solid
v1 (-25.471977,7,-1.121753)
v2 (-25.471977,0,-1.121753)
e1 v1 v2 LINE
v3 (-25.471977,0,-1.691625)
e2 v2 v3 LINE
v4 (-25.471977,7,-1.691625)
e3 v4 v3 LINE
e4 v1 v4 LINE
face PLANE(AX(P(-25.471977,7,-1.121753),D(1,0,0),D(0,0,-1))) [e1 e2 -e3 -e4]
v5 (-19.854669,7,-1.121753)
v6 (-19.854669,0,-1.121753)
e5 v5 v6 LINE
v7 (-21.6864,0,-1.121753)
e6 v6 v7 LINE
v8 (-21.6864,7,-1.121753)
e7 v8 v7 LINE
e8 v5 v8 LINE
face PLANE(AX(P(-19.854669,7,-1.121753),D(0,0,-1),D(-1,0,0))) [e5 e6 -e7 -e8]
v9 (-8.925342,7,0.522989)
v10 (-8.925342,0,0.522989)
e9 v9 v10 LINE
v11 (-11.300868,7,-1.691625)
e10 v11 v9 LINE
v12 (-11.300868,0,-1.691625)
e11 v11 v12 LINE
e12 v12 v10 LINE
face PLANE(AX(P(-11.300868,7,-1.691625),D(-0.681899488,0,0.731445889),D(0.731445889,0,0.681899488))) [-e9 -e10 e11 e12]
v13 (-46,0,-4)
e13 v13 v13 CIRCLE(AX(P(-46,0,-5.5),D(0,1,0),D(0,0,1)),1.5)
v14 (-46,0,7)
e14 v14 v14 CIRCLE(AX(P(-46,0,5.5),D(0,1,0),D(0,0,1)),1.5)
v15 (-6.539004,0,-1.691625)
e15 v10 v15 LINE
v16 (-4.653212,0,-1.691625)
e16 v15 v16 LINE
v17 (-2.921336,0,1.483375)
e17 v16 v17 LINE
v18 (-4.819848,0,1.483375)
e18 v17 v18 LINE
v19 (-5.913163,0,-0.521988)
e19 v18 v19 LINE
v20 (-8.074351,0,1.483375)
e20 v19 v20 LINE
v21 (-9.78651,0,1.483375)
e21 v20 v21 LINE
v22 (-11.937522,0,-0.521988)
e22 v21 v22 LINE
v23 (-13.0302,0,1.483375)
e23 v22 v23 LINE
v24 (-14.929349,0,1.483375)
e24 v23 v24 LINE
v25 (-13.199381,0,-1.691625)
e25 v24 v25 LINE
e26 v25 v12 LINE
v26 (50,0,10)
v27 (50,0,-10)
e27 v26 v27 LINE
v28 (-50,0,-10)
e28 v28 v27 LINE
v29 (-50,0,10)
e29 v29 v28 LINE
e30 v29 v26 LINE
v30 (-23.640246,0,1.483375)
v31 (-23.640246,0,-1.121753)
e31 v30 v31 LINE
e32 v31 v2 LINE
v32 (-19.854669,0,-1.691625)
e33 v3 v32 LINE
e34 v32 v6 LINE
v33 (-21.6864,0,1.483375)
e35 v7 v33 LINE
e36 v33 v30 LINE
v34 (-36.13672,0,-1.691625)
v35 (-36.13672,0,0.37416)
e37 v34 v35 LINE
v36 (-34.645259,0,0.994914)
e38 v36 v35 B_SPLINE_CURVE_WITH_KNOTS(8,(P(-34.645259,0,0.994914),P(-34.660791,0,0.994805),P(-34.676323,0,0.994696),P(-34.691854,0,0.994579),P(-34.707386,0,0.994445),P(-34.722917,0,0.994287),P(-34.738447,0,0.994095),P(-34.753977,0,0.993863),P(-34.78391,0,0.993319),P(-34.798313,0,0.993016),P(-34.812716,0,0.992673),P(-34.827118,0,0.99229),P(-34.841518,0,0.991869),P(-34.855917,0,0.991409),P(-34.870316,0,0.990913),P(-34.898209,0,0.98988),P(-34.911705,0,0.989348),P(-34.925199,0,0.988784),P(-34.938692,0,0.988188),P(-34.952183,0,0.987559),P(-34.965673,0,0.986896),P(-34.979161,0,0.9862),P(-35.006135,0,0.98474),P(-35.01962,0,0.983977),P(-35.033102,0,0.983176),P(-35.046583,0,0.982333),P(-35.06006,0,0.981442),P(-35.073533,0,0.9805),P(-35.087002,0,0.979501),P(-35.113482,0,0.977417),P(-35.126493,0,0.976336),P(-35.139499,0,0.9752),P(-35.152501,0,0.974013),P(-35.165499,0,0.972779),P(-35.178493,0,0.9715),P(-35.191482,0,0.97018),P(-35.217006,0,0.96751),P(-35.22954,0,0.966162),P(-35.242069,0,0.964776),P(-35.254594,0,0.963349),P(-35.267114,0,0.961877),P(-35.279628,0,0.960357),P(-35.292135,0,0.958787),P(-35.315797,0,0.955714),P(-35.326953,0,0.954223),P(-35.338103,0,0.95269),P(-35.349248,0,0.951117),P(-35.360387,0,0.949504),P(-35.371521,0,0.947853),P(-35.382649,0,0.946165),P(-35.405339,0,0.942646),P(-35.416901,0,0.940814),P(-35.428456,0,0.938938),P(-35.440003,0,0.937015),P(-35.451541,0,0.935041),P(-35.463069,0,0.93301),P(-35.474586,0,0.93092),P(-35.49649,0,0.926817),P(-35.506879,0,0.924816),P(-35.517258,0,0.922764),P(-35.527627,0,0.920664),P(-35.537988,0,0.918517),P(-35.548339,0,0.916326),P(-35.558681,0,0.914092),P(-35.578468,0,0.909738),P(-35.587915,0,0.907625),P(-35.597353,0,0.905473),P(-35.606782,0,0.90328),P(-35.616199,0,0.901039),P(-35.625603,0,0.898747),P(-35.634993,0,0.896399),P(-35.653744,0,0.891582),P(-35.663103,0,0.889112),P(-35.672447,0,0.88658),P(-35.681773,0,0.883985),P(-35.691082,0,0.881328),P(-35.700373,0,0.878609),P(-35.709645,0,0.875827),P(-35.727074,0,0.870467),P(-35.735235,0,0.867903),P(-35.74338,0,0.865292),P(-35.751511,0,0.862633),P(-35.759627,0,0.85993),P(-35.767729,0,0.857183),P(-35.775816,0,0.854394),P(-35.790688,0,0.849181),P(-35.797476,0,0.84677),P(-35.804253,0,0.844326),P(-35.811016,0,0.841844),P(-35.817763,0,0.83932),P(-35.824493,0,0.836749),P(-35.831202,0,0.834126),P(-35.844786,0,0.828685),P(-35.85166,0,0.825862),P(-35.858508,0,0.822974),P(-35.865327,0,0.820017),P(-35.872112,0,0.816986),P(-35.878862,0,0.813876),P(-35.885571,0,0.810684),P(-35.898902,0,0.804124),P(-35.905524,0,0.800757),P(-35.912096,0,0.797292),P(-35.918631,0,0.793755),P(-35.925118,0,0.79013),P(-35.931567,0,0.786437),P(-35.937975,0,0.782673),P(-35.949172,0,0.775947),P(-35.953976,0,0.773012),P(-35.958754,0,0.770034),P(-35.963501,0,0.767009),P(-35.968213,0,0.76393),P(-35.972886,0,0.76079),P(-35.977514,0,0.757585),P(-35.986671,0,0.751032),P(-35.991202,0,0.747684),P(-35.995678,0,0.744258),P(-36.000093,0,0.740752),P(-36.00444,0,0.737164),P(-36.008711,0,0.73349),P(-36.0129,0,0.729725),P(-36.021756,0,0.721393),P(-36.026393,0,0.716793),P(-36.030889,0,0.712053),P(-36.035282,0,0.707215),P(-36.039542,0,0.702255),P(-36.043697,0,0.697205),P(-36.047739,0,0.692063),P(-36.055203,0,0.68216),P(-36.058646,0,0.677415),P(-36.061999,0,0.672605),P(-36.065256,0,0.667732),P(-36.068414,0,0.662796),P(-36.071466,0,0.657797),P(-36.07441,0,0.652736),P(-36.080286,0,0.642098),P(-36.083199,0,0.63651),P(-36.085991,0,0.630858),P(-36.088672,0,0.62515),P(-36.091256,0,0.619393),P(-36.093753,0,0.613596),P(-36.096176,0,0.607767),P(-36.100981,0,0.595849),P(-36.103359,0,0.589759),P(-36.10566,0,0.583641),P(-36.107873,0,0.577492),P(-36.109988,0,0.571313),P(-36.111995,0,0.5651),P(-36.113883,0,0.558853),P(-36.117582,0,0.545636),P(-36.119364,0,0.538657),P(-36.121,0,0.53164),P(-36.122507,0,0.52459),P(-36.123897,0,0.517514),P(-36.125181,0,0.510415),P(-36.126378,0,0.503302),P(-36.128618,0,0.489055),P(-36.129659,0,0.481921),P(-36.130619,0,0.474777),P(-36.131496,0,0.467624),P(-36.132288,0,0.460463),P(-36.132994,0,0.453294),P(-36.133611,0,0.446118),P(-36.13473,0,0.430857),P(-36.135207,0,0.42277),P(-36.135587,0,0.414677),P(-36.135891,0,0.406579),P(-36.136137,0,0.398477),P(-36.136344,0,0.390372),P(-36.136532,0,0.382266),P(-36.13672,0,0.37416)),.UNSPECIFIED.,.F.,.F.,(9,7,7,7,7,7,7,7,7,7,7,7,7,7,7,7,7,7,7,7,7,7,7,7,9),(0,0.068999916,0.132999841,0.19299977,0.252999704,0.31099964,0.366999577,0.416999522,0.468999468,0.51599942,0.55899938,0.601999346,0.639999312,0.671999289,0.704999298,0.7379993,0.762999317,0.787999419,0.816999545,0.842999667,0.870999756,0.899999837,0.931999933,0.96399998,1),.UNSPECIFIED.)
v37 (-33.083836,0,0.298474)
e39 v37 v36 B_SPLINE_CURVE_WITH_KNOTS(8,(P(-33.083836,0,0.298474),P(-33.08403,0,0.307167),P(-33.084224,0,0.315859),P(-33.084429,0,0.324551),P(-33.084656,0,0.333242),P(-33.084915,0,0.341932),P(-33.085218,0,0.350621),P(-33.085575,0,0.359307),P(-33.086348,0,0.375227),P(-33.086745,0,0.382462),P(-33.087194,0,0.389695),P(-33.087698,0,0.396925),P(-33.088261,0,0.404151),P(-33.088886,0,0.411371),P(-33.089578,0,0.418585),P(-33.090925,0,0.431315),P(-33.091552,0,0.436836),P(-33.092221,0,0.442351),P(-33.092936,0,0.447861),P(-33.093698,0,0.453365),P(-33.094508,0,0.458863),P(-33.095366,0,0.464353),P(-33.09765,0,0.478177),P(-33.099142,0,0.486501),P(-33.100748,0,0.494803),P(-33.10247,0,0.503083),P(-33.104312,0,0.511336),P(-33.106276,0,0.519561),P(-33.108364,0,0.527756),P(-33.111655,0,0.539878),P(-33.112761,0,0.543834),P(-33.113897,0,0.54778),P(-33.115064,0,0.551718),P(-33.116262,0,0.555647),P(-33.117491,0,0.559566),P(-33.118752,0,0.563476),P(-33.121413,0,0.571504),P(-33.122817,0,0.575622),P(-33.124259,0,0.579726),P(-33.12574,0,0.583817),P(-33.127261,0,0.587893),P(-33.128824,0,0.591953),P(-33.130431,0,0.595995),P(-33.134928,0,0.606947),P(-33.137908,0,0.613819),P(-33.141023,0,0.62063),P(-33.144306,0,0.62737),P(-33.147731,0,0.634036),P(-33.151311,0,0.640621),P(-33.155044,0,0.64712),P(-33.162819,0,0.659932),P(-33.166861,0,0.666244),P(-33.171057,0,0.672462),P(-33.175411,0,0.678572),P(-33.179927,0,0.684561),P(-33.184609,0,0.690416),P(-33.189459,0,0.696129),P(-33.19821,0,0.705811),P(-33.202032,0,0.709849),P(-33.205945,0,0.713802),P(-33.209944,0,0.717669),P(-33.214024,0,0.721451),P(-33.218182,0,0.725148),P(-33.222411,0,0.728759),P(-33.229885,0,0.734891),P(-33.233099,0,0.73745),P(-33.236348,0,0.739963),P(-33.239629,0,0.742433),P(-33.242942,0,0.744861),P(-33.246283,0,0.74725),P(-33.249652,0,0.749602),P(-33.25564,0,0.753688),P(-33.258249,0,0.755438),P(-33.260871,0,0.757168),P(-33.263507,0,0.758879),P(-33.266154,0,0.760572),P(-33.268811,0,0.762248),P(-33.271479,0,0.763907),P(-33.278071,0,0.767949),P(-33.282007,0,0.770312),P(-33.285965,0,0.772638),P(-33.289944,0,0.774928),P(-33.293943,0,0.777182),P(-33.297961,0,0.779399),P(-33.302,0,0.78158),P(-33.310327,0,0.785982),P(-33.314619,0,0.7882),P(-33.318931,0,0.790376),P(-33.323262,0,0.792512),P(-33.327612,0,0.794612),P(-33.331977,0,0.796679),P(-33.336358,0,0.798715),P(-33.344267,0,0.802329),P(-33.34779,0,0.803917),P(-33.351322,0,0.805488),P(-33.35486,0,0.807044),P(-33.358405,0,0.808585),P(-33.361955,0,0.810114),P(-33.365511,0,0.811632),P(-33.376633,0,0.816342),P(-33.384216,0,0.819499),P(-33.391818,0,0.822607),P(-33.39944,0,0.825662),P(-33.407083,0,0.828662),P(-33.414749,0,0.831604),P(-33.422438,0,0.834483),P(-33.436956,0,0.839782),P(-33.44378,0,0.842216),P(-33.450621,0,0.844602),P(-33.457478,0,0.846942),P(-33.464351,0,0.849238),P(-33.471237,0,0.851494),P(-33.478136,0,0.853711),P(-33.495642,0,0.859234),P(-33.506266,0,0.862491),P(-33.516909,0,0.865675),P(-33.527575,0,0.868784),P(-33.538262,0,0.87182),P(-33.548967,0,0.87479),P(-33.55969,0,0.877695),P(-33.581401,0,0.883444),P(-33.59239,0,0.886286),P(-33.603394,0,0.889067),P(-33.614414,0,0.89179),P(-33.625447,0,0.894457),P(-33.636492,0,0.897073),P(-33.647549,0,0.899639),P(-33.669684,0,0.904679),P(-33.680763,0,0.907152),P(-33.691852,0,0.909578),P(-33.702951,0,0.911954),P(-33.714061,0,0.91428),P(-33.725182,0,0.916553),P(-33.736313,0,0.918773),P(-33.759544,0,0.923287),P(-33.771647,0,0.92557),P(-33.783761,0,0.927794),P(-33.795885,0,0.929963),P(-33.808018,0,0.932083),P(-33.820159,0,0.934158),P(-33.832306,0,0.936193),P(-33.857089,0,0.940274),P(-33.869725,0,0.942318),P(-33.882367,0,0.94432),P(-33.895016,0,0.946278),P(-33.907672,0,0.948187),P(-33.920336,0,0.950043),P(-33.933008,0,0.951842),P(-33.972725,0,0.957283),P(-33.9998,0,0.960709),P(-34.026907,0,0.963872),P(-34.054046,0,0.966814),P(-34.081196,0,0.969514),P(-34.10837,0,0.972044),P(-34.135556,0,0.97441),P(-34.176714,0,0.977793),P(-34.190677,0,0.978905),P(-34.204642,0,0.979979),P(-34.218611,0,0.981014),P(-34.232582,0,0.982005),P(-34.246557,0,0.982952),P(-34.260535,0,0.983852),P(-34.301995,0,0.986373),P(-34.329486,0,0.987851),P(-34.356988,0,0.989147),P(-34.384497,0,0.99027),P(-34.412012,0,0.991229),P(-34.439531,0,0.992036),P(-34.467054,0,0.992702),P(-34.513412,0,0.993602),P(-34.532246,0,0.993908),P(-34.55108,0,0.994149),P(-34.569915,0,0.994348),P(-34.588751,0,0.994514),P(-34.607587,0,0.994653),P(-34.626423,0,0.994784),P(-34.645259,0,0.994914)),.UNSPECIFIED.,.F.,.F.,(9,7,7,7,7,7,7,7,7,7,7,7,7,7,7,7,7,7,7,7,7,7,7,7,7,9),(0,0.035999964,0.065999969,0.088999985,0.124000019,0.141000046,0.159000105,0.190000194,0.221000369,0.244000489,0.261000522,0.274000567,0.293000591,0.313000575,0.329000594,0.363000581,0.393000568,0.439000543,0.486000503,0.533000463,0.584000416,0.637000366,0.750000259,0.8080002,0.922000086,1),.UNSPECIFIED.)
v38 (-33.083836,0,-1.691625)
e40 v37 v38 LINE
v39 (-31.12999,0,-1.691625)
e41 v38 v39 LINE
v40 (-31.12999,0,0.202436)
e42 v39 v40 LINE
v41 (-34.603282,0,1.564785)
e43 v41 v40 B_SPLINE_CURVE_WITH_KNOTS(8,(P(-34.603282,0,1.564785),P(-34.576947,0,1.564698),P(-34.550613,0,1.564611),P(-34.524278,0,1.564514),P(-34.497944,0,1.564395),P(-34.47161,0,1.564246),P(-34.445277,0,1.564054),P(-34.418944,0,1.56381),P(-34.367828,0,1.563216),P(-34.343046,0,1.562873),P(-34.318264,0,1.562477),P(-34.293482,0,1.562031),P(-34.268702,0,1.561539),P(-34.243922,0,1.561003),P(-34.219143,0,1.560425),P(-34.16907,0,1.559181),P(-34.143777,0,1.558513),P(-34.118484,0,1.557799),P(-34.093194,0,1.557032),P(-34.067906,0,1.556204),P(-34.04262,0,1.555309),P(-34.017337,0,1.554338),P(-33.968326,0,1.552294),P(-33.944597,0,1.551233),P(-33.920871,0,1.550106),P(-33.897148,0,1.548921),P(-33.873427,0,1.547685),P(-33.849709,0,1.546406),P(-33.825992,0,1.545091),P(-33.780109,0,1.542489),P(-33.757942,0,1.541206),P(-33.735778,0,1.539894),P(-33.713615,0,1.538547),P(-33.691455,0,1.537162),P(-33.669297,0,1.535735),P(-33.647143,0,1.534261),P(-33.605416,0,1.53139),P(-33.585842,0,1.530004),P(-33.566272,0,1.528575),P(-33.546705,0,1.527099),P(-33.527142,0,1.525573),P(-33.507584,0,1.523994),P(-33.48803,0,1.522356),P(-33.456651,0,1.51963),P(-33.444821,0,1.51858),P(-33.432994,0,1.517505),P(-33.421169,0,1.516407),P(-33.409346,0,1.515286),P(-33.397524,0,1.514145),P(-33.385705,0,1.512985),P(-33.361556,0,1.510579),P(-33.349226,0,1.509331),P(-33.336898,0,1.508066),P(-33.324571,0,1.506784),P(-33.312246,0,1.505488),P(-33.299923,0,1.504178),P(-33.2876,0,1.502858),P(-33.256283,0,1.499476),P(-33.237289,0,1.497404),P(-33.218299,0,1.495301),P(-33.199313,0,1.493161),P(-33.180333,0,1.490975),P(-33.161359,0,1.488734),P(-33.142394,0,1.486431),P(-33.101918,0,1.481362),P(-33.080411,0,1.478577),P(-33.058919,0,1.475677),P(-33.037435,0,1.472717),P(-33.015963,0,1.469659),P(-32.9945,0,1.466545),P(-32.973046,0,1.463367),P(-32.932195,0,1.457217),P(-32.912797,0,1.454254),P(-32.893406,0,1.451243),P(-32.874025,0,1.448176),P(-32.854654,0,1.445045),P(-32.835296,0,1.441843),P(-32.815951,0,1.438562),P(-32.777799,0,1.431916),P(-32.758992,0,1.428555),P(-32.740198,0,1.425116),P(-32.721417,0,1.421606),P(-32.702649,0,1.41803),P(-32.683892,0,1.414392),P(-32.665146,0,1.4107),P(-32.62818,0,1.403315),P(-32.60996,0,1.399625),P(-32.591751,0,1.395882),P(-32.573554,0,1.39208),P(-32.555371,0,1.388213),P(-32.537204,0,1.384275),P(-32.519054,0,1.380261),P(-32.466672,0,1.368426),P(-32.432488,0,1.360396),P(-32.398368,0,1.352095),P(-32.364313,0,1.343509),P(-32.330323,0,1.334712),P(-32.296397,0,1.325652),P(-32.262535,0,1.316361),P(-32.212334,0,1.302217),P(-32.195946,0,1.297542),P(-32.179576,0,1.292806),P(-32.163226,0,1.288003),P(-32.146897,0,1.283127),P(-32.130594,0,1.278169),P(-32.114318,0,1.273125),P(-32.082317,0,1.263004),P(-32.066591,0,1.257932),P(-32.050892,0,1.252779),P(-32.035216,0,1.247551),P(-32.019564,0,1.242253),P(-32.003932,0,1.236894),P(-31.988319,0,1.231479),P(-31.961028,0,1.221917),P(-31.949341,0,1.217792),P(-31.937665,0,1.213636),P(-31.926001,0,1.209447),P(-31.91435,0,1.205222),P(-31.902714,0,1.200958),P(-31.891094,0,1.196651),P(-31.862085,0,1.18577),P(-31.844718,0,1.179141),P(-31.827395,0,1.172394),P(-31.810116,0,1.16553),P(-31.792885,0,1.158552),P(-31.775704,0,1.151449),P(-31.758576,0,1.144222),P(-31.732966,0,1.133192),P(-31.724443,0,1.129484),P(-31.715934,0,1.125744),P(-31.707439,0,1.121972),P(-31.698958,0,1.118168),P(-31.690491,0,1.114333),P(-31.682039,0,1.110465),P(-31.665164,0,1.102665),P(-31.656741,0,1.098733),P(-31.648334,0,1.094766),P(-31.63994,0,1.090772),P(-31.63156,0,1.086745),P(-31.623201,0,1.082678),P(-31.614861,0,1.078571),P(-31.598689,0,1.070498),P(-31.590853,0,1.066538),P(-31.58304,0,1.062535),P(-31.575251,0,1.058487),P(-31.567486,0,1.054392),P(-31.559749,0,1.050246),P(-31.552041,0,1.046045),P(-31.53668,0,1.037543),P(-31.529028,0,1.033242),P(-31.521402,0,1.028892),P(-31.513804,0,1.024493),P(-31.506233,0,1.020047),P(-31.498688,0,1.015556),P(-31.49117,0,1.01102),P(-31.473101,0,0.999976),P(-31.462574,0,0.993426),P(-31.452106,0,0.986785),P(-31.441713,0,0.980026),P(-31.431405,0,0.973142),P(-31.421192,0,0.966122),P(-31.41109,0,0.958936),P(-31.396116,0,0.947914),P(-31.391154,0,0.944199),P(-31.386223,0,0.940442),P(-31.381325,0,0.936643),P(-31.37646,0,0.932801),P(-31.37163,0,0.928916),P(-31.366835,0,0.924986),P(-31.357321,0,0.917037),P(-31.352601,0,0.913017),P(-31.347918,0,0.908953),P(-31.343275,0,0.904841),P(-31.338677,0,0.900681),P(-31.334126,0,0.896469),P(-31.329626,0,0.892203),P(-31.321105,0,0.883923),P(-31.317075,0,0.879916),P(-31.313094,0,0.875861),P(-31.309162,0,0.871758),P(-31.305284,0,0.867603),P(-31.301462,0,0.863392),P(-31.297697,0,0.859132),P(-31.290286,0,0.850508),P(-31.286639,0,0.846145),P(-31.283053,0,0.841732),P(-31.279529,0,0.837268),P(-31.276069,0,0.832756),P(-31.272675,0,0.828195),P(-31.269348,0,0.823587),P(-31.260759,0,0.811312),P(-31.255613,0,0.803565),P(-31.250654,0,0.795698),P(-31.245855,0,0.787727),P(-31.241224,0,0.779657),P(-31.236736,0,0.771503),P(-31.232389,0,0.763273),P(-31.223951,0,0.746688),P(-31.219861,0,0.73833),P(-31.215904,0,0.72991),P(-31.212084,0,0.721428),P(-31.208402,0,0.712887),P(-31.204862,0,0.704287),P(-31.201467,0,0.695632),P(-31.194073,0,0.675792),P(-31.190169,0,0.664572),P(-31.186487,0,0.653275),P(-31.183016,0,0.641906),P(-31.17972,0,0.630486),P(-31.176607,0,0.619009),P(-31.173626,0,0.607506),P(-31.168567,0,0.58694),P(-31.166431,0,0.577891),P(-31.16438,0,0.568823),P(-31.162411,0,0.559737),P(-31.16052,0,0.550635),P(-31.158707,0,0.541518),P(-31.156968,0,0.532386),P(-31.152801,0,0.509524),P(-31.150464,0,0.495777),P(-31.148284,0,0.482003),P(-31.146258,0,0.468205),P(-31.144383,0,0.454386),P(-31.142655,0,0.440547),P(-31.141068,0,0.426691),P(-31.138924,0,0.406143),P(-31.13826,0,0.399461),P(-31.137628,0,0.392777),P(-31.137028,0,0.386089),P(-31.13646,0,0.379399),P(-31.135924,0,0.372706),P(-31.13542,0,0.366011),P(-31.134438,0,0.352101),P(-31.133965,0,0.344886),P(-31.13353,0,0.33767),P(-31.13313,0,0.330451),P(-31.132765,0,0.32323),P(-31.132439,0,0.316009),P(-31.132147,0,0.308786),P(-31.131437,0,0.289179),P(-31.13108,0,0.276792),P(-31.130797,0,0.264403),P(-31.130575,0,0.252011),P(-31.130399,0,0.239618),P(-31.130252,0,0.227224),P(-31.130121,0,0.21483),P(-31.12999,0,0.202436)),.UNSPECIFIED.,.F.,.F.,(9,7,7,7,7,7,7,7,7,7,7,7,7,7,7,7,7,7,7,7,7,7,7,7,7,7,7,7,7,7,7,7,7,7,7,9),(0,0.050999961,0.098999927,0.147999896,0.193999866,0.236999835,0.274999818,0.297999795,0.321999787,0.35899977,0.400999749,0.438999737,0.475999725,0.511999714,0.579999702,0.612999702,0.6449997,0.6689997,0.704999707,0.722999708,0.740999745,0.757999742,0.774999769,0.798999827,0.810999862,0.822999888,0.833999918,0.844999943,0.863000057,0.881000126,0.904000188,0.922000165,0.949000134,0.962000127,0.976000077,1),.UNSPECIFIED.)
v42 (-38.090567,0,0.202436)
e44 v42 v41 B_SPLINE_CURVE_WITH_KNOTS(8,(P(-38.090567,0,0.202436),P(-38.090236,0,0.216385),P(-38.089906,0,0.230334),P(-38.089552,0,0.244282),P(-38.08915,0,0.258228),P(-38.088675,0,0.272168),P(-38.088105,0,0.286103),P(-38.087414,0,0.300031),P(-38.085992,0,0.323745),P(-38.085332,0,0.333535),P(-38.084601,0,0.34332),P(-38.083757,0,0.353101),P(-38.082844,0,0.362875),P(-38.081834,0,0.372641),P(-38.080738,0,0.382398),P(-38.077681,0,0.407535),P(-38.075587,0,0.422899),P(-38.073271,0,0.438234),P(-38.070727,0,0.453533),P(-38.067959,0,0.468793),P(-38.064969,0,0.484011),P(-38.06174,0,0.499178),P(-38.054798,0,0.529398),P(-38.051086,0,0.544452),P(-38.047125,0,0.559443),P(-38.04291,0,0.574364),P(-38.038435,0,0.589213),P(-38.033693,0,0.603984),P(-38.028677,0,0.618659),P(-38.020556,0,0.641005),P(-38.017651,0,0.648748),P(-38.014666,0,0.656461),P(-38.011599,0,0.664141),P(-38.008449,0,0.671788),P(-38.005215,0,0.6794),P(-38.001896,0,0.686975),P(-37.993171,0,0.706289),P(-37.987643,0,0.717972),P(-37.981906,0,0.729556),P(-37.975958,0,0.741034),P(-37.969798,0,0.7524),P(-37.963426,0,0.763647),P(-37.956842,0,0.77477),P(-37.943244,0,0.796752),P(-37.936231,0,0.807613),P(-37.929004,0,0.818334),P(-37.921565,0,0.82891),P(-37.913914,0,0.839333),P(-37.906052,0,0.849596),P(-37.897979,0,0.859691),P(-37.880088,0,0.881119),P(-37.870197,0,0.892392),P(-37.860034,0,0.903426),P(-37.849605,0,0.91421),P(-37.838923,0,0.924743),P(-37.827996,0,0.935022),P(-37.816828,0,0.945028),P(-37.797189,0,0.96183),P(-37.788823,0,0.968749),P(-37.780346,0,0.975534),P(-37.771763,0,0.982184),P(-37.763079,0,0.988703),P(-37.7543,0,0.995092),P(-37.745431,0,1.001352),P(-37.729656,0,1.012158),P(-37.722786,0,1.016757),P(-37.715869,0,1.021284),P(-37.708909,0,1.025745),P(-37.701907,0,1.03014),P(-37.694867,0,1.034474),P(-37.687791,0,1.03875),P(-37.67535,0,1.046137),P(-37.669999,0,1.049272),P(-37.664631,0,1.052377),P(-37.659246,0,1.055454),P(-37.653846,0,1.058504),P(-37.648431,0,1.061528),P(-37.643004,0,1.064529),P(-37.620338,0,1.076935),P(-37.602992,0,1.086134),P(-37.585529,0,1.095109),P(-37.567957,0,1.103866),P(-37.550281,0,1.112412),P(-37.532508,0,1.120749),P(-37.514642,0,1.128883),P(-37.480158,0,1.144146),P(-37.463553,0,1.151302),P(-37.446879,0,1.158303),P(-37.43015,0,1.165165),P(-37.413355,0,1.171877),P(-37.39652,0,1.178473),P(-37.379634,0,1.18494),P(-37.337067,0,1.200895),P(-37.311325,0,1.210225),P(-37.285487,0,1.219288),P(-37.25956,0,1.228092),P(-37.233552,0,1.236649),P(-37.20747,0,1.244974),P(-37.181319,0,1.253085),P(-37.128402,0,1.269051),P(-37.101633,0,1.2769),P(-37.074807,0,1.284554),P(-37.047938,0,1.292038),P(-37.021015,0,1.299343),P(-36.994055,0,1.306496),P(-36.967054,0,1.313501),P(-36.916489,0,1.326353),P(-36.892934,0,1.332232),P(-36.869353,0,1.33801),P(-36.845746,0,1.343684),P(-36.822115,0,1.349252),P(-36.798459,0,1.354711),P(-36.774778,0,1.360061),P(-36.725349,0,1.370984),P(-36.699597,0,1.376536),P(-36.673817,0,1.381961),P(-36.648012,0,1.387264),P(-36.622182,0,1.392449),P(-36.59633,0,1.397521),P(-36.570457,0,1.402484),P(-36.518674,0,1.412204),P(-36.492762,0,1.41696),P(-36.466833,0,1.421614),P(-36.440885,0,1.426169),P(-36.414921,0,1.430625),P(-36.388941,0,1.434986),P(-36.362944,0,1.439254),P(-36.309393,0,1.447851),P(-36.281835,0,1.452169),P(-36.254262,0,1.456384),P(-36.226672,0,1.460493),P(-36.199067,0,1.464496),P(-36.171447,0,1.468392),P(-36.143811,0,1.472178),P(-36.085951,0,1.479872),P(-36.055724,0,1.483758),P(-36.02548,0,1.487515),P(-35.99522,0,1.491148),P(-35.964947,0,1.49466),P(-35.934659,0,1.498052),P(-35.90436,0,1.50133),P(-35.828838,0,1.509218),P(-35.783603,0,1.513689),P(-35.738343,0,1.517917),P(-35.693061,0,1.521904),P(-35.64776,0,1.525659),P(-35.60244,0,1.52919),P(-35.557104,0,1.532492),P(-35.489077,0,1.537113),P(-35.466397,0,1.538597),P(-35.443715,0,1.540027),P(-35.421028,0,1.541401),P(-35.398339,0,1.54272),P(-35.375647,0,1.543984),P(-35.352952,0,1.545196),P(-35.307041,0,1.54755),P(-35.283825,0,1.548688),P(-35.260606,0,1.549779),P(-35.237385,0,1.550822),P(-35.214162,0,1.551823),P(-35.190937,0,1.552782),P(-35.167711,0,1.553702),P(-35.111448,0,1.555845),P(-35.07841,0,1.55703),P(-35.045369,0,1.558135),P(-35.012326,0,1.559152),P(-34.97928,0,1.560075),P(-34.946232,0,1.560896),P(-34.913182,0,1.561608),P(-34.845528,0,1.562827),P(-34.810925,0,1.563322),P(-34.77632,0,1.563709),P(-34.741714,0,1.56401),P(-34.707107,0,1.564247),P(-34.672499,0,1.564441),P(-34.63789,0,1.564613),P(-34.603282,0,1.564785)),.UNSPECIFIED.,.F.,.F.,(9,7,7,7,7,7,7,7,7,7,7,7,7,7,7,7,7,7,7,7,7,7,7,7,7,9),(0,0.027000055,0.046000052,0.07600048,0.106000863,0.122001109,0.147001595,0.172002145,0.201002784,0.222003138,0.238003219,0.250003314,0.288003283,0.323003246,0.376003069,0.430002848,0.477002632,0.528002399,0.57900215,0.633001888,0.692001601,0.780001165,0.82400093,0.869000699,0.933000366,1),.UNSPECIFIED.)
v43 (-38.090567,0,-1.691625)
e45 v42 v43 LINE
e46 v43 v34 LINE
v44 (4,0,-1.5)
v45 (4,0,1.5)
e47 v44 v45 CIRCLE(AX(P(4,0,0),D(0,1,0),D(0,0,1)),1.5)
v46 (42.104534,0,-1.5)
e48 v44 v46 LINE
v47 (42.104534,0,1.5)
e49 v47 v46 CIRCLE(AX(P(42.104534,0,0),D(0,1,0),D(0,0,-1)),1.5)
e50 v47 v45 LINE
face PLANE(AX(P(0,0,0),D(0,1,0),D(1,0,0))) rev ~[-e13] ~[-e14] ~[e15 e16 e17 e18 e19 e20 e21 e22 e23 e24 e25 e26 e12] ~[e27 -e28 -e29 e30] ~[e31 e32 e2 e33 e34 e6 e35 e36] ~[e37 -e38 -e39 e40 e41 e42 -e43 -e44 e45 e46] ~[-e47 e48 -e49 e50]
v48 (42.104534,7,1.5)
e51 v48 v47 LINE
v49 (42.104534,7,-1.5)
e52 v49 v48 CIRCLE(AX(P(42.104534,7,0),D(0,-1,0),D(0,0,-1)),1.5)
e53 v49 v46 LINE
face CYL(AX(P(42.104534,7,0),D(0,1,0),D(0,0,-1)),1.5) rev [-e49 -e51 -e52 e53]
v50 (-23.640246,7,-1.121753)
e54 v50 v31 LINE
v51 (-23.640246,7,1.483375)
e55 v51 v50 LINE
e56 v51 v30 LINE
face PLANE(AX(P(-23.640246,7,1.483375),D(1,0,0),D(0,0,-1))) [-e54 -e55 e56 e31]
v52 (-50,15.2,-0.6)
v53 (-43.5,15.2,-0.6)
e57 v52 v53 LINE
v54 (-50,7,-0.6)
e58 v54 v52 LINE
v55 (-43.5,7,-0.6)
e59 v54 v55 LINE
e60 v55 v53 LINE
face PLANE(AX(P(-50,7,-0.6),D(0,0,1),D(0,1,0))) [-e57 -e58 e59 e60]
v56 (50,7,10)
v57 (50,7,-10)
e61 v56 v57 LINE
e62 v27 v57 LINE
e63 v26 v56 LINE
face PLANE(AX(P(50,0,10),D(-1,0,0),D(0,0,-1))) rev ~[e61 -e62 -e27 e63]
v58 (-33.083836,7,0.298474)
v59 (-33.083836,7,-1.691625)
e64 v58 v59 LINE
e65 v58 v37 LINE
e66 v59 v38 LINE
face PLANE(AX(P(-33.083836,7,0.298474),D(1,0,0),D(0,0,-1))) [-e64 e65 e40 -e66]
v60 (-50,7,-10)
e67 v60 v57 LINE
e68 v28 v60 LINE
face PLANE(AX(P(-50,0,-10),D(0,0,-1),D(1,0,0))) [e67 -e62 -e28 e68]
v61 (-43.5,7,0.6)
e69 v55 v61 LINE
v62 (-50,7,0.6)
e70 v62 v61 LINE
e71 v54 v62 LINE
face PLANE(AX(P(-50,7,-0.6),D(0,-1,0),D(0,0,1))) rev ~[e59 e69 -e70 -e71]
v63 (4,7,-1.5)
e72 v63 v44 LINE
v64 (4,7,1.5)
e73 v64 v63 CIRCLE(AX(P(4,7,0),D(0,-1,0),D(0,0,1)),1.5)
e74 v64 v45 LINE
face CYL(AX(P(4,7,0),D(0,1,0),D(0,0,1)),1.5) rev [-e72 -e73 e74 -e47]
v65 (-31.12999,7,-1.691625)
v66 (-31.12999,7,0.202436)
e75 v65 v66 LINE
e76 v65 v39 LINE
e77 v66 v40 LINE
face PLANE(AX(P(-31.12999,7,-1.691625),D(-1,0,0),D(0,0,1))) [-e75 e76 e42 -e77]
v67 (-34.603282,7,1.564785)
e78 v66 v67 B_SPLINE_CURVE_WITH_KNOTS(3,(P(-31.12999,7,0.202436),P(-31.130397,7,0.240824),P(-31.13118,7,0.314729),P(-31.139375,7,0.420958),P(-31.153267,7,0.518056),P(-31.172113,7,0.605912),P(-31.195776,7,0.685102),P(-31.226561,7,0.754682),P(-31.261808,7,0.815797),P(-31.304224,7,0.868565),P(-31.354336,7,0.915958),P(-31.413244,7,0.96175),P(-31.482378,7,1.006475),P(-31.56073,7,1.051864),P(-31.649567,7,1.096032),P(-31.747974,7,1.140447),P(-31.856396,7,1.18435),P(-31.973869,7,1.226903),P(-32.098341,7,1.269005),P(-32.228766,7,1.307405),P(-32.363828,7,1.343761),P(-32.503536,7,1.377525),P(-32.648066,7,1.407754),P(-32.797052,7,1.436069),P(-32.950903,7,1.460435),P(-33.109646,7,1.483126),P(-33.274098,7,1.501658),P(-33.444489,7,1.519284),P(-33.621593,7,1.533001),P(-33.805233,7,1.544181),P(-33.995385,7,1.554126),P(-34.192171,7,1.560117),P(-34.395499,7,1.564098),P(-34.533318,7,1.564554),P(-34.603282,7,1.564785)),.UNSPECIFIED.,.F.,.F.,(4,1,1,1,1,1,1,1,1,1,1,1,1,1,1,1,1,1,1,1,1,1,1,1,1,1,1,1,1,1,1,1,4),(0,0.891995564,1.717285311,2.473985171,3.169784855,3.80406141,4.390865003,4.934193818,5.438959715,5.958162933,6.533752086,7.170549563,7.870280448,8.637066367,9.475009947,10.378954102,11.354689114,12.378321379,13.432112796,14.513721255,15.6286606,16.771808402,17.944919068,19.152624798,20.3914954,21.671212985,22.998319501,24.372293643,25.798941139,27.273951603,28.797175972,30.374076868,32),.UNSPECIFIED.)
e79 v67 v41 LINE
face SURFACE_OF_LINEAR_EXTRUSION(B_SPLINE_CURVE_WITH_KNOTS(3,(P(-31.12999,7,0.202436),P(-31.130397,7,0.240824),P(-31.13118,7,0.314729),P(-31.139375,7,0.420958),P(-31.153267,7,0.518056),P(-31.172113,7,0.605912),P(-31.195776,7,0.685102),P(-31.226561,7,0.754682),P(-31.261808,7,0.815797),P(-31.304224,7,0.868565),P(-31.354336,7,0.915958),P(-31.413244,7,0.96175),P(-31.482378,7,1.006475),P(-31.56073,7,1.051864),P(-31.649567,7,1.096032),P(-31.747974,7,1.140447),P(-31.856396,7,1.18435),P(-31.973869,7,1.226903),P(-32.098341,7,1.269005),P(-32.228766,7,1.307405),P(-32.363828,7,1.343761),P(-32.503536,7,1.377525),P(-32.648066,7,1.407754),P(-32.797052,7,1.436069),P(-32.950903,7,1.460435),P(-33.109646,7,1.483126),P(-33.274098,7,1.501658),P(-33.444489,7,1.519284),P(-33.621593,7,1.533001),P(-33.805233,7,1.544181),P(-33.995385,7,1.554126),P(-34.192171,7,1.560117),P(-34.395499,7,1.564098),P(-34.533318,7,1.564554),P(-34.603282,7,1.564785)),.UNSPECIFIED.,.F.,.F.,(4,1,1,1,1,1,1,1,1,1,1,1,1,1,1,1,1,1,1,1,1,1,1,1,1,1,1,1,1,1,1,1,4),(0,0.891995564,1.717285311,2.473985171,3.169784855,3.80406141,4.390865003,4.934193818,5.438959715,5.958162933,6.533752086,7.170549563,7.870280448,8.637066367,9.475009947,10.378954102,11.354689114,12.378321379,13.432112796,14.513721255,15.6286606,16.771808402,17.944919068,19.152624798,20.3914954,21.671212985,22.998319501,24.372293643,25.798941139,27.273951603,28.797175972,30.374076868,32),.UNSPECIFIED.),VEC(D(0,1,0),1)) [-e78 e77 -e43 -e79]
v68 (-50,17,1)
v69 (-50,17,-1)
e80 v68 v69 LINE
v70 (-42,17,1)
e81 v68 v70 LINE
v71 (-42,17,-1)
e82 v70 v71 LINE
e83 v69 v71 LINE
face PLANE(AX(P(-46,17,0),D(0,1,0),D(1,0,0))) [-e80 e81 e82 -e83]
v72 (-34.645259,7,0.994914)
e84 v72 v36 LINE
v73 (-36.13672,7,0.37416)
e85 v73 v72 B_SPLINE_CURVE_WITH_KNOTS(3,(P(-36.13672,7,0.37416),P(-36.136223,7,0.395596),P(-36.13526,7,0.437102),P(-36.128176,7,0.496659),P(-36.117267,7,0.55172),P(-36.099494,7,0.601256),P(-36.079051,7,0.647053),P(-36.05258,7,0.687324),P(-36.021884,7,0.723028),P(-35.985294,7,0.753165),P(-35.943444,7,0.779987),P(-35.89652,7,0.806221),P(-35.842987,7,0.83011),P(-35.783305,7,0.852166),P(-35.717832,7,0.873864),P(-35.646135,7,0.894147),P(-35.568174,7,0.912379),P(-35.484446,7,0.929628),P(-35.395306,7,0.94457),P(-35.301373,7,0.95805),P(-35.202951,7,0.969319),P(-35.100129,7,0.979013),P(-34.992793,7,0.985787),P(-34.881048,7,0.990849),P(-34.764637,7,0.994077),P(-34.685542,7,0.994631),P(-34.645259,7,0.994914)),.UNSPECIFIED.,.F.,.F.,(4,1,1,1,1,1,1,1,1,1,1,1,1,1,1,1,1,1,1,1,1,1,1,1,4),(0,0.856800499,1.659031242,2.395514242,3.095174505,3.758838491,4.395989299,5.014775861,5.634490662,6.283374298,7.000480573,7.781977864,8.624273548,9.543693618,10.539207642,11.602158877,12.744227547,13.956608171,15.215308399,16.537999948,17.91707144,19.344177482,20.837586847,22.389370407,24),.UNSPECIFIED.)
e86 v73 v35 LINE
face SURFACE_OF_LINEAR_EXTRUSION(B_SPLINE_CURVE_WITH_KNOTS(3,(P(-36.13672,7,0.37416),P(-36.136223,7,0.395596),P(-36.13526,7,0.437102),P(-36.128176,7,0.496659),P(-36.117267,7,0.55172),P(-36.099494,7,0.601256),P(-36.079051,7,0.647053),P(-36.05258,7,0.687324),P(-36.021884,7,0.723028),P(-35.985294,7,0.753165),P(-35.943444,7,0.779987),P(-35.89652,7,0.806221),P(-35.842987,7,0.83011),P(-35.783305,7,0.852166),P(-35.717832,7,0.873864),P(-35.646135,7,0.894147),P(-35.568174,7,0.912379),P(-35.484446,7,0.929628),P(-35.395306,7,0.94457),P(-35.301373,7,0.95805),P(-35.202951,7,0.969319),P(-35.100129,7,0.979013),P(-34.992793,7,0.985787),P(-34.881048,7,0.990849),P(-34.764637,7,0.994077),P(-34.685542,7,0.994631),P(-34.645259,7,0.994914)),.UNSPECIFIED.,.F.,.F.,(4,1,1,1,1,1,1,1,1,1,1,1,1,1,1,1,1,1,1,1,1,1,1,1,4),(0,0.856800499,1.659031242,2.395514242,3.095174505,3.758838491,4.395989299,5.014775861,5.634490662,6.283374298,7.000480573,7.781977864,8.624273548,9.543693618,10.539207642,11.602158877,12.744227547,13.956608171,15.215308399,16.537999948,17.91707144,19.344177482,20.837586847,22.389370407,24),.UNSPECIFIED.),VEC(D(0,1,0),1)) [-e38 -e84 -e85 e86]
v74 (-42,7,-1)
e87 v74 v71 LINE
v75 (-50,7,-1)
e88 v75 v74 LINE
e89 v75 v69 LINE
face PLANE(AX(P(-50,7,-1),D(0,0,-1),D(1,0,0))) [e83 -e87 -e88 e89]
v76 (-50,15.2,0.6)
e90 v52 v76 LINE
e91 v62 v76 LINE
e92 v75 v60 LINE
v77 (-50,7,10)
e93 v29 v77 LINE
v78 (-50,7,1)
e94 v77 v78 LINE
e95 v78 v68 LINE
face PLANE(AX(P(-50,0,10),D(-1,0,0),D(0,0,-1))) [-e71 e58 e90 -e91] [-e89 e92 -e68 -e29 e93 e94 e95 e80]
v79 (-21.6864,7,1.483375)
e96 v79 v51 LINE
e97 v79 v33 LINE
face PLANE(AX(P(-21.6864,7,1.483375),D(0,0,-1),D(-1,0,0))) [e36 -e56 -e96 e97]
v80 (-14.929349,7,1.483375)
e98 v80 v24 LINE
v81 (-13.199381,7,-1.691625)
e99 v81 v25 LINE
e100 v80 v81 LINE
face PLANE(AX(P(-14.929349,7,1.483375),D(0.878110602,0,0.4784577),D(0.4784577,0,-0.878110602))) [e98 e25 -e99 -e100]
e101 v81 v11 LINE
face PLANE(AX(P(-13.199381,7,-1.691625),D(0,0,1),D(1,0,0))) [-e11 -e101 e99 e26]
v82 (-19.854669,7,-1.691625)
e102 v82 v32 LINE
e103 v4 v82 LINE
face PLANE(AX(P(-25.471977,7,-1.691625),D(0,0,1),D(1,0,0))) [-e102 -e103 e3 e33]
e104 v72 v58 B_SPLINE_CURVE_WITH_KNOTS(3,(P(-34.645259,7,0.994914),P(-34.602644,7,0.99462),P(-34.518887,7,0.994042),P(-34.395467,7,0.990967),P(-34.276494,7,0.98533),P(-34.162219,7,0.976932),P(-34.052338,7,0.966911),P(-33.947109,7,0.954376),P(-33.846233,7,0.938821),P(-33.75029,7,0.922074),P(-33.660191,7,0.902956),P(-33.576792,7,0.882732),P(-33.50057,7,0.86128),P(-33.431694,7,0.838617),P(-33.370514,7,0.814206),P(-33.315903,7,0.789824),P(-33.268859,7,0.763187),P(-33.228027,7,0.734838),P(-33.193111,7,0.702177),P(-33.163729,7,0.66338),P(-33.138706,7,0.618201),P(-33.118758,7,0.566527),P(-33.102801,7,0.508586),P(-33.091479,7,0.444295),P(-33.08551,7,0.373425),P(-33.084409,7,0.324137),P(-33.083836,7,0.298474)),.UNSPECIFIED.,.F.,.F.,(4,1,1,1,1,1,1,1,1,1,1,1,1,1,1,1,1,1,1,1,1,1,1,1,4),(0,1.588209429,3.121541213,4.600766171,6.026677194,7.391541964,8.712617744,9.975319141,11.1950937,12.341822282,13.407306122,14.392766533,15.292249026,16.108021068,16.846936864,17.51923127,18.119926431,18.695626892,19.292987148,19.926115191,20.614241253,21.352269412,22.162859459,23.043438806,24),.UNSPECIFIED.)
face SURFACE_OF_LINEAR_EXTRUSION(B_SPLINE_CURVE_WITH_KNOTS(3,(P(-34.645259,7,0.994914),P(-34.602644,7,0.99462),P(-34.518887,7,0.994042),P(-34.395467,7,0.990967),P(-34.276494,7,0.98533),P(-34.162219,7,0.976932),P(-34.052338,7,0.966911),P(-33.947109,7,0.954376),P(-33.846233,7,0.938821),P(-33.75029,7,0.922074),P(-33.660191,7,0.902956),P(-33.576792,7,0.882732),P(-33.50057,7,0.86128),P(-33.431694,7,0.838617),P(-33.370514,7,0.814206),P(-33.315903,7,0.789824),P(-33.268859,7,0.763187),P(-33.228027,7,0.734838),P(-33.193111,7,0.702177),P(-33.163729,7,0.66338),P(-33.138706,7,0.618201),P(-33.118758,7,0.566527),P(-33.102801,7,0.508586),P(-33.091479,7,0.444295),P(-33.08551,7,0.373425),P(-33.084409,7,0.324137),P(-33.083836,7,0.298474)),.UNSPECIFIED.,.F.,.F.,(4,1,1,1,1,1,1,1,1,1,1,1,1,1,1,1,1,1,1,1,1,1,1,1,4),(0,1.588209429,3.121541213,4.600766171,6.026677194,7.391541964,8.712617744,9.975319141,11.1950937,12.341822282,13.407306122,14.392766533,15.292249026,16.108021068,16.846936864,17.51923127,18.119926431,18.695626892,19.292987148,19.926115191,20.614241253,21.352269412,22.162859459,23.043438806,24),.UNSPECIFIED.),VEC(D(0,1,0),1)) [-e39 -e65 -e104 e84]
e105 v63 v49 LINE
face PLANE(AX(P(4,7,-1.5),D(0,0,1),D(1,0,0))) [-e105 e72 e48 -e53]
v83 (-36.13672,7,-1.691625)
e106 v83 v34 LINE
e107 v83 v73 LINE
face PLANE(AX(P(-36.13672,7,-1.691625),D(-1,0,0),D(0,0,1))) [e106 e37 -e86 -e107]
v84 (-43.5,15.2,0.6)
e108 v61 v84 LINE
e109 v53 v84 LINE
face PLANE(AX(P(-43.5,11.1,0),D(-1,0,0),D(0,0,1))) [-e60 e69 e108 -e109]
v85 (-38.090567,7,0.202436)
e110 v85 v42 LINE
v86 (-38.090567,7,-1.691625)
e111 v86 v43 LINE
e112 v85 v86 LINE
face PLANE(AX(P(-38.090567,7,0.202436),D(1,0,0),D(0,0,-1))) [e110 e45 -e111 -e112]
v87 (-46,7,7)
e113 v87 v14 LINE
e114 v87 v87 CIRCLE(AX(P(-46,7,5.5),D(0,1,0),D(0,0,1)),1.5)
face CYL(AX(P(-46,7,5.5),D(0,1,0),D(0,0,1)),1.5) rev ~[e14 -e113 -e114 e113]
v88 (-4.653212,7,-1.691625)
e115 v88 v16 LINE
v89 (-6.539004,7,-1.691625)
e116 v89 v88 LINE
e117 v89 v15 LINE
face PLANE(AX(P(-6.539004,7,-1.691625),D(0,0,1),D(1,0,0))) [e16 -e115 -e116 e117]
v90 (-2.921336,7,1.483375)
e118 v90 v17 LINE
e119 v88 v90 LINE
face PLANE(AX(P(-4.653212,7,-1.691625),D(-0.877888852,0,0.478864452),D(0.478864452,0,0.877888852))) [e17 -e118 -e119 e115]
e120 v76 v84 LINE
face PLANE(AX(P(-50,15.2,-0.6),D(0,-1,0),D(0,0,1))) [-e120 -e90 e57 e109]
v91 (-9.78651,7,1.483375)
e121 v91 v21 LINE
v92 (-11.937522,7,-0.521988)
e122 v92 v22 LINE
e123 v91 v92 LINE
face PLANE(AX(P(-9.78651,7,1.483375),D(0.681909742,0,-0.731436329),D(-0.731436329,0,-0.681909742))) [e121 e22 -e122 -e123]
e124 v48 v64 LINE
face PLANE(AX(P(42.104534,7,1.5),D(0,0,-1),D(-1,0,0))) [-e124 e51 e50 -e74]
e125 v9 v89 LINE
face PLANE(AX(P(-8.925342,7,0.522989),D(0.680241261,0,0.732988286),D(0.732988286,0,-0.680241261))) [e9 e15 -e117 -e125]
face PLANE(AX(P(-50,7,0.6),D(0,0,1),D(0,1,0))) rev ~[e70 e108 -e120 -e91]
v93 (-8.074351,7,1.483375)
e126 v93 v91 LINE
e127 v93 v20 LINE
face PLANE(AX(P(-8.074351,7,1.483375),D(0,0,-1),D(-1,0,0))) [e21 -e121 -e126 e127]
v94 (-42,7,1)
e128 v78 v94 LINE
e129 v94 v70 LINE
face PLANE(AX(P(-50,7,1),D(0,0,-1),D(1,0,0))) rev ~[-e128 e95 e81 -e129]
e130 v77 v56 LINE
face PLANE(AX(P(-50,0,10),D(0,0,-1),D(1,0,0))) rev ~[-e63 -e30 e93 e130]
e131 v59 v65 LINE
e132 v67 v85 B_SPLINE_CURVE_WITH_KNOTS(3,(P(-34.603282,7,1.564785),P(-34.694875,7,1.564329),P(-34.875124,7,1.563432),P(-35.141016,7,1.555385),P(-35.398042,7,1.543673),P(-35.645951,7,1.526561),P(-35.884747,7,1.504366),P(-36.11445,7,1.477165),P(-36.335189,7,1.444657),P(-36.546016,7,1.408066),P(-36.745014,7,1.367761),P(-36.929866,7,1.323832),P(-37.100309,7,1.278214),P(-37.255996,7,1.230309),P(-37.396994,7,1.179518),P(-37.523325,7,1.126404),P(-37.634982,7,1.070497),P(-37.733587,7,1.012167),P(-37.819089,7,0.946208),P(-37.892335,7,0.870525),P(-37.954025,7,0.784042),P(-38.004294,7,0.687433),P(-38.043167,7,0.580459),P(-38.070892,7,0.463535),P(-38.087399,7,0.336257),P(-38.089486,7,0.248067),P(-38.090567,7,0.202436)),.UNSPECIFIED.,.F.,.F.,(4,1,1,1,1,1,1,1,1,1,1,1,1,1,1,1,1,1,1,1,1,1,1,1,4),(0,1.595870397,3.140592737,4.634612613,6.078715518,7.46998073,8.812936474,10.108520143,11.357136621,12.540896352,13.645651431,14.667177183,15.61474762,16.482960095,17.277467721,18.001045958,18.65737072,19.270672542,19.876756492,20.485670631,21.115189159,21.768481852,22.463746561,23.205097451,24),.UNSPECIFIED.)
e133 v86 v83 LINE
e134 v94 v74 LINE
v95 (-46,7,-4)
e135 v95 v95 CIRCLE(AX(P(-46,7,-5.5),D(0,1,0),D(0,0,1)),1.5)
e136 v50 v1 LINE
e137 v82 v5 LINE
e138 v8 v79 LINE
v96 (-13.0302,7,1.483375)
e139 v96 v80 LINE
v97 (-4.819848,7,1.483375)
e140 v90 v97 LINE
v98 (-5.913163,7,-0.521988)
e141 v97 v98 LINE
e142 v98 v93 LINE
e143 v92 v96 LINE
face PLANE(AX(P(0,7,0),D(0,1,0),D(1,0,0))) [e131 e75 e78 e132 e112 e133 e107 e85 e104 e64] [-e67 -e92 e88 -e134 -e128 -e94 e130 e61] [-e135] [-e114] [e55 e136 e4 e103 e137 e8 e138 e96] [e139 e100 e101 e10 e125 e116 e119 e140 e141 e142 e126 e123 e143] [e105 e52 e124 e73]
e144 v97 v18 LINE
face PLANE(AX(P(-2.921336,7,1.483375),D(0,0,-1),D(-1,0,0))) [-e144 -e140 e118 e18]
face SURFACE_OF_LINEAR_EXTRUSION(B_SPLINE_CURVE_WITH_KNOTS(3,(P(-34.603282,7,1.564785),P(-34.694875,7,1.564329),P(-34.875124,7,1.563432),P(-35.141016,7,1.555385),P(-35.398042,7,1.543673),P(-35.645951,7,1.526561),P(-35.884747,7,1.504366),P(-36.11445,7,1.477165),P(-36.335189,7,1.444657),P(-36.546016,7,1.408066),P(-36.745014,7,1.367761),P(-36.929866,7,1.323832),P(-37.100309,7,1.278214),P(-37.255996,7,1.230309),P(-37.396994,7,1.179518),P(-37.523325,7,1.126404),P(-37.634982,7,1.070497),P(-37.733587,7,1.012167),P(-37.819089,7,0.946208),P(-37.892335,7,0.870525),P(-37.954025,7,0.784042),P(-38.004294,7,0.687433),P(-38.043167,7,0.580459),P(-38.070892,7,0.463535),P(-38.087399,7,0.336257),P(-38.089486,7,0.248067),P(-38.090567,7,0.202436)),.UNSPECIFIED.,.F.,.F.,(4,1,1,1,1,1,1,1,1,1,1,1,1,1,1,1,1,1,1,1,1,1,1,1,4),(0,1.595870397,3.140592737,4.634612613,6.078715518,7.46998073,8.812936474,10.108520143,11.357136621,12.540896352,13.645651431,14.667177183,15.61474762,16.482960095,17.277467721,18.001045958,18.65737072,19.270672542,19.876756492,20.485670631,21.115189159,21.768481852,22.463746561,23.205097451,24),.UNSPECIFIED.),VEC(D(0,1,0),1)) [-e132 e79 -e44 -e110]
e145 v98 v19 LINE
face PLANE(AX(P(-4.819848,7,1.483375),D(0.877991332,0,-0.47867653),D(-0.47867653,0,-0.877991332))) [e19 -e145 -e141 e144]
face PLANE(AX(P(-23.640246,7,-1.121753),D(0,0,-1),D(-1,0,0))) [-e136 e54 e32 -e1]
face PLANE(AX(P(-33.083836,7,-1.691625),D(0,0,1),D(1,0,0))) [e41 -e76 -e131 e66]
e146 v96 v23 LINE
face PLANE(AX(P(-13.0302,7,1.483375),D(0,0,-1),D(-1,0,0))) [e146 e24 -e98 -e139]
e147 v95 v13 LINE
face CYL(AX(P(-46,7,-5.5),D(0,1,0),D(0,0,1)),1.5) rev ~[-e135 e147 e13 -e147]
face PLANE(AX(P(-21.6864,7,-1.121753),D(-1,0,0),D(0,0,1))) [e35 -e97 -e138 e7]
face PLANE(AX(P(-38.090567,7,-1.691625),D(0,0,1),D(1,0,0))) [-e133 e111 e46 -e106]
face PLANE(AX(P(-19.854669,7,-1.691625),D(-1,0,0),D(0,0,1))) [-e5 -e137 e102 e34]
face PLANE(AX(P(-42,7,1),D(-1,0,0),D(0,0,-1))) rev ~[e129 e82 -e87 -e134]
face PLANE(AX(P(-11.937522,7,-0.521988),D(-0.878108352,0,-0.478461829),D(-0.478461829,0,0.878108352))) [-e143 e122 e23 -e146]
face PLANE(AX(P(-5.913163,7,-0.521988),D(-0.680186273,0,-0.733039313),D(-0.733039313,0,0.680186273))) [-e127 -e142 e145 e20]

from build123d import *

# Parameters (mm, degrees)
SKETCH1_W           = 100
SKETCH1_H           = 20
BOSS_EXTRUDE1_DEPTH = 7
SKETCH2_W           = 8
SKETCH2_H           = 2
BOSS_EXTRUDE2_DEPTH = 10
SKETCH3_W           = 1.2
SKETCH3_H           = 8.2
CUT_EXTRUDE1_DEPTH  = 6.5
SKETCH4_R           = 1.5
CUT_EXTRUDE2_DEPTH  = 16.5
CUT_EXTRUDE3_DEPTH  = 16.5
CUT_EXTRUDE4_DEPTH  = 16.5


with BuildPart() as part:
    # Sketch1 → Boss-Extrude1 (new body)
    with BuildSketch(Plane(origin=(0, 0, 0), x_dir=(1, 0, 0), z_dir=(0, 1, 0))):
        Rectangle(SKETCH1_W, SKETCH1_H)
    extrude(amount=BOSS_EXTRUDE1_DEPTH)

    # Sketch2 → Boss-Extrude2 (add)
    with BuildSketch(Plane(origin=(0, 7, 0), x_dir=(1, 0, 0), z_dir=(0, 1, 0))):
        with Locations((-46, 0)):
            Rectangle(SKETCH2_W, SKETCH2_H)
    extrude(amount=BOSS_EXTRUDE2_DEPTH)

    # Sketch3 → Cut-Extrude1 (cut)
    with BuildSketch(Plane.ZY.offset(50)):
        with Locations((0, 11.1)):
            Rectangle(SKETCH3_W, SKETCH3_H)
    extrude(amount=-CUT_EXTRUDE1_DEPTH, mode=Mode.SUBTRACT)

    # Sketch4 → Cut-Extrude2 (cut)
    with BuildSketch(Plane(origin=(0, 7, 0), x_dir=(1, 0, 0), z_dir=(0, 1, 0))):
        with Locations(Location((-46, -5.5, 0), (0, 0, 270))):
            Circle(SKETCH4_R)
        with Locations(Location((-46, 5.5, 0), (0, 0, 270))):
            Circle(SKETCH4_R)
    extrude(amount=-CUT_EXTRUDE2_DEPTH, mode=Mode.SUBTRACT)

    # Sketch5 → Cut-Extrude3 (cut)
    with BuildSketch(Plane(origin=(0, 7, 0), x_dir=(1, 0, 0), z_dir=(0, 1, 0))):
        with BuildLine():
            Line((4, 1.5), (42.104534382, 1.5))
            ThreePointArc((42.104534382, 1.5), (43.604534382, 0), (42.104534382, -1.5))
            Line((42.104534382, -1.5), (4, -1.5))
            ThreePointArc((4, -1.5), (2.5, 0), (4, 1.5))
        make_face()
    extrude(amount=-CUT_EXTRUDE3_DEPTH, mode=Mode.SUBTRACT)

    # Sketch6 → Cut-Extrude4 (cut)
    with BuildSketch(Plane(origin=(0, 7, 0), x_dir=(1, 0, 0), z_dir=(0, 1, 0))):
        with BuildLine():
            Line((-38.090566617, 1.691624874), (-36.136720463, 1.691624874))
            Line((-36.136720463, 1.691624874), (-36.136720463, -0.374160382))
            add(Edge.make_bspline(
                [(-36.136720463, -0.374160382), (-36.136222921, -0.395596016), (-36.135259527, -0.437102045), (-36.128176252, -0.496659376), (-36.117267464, -0.551720243), (-36.099494327, -0.601255913), (-36.079050673, -0.647053262), (-36.052579871, -0.687323798), (-36.021884122, -0.723028206), (-35.985294073, -0.753165432), (-35.943444242, -0.779987134), (-35.896520116, -0.806221032), (-35.842987125, -0.830109847), (-35.783305155, -0.852165702), (-35.717831736, -0.873864468), (-35.646135273, -0.894146598), (-35.56817414, -0.912378535), (-35.484446285, -0.929627894), (-35.395305953, -0.944570047), (-35.30137293, -0.958050388), (-35.202951382, -0.969319491), (-35.100128875, -0.979013349), (-34.99279273, -0.985787257), (-34.881047838, -0.990848531), (-34.764636845, -0.99407686), (-34.685542294, -0.99463124), (-34.645259125, -0.994913587)],
                knots=[0, 0, 0, 0, 0.856800499, 1.659031242, 2.395514242, 3.095174505, 3.758838491, 4.395989299, 5.014775861, 5.634490662, 6.283374298, 7.000480573, 7.781977864, 8.624273548, 9.543693618, 10.539207642, 11.602158877, 12.744227547, 13.956608171, 15.215308399, 16.537999948, 17.91707144, 19.344177482, 20.837586847, 22.389370407, 24, 24, 24, 24], degree=3))
            add(Edge.make_bspline(
                [(-34.645259125, -0.994913587), (-34.602644304, -0.994619773), (-34.518887139, -0.994042296), (-34.395467432, -0.990967311), (-34.276493626, -0.985329628), (-34.162218877, -0.976931814), (-34.05233768, -0.966910998), (-33.947109184, -0.954375876), (-33.846232554, -0.938820672), (-33.750290053, -0.922073681), (-33.660190511, -0.902955674), (-33.576791977, -0.882732471), (-33.500569827, -0.861280306), (-33.431693571, -0.838617434), (-33.370513532, -0.814205685), (-33.315903174, -0.789823701), (-33.268859004, -0.763186911), (-33.228027111, -0.734837962), (-33.193111029, -0.702177186), (-33.163728858, -0.66337951), (-33.138706328, -0.618201192), (-33.118757714, -0.566526559), (-33.102800885, -0.508586363), (-33.091478933, -0.444294518), (-33.085510067, -0.373424974), (-33.084409099, -0.324137339), (-33.083835848, -0.298474285)],
                knots=[0, 0, 0, 0, 1.588209429, 3.121541213, 4.600766171, 6.026677194, 7.391541964, 8.712617744, 9.975319141, 11.1950937, 12.341822282, 13.407306122, 14.392766533, 15.292249026, 16.108021068, 16.846936864, 17.51923127, 18.119926431, 18.695626892, 19.292987148, 19.926115191, 20.614241253, 21.352269412, 22.162859459, 23.043438806, 24, 24, 24, 24], degree=3))
            Line((-33.083835848, -0.298474285), (-33.083835848, 1.691624874))
            Line((-33.083835848, 1.691624874), (-31.129989694, 1.691624874))
            Line((-31.129989694, 1.691624874), (-31.129989694, -0.202435623))
            add(Edge.make_bspline(
                [(-31.129989694, -0.202435623), (-31.130396555, -0.240823825), (-31.131179852, -0.314729458), (-31.139375273, -0.420958153), (-31.153266871, -0.518056089), (-31.172113358, -0.60591195), (-31.195776106, -0.685102071), (-31.2265614, -0.75468246), (-31.261807566, -0.815796798), (-31.304224039, -0.868565412), (-31.35433564, -0.915957753), (-31.413244095, -0.961750023), (-31.482378453, -1.006475356), (-31.560729801, -1.051863818), (-31.649567417, -1.096031718), (-31.747973897, -1.140446708), (-31.856395889, -1.184349919), (-31.973869243, -1.226902741), (-32.098340547, -1.26900542), (-32.228765844, -1.30740489), (-32.363828076, -1.343760755), (-32.503536352, -1.37752487), (-32.648066029, -1.407754368), (-32.797051714, -1.436069214), (-32.950903144, -1.460434965), (-33.109645942, -1.483126236), (-33.274098084, -1.501657516), (-33.444488933, -1.519283924), (-33.621592617, -1.533001036), (-33.805232974, -1.544180789), (-33.995384773, -1.554126205), (-34.192171214, -1.560117111), (-34.395499456, -1.564098136), (-34.533317979, -1.564553974), (-34.603281962, -1.564785382)],
                knots=[0, 0, 0, 0, 0.891995564, 1.717285311, 2.473985171, 3.169784855, 3.80406141, 4.390865003, 4.934193818, 5.438959715, 5.958162933, 6.533752086, 7.170549563, 7.870280448, 8.637066367, 9.475009947, 10.378954102, 11.354689114, 12.378321379, 13.432112796, 14.513721255, 15.6286606, 16.771808402, 17.944919068, 19.152624798, 20.3914954, 21.671212985, 22.998319501, 24.372293643, 25.798941139, 27.273951603, 28.797175972, 30.374076868, 32, 32, 32, 32], degree=3))
            add(Edge.make_bspline(
                [(-34.603281962, -1.564785382), (-34.694874664, -1.564329464), (-34.875124498, -1.563432241), (-35.141015791, -1.555385336), (-35.398042018, -1.543673109), (-35.645950763, -1.52656085), (-35.884746849, -1.504366425), (-36.114450133, -1.477165199), (-36.335189293, -1.444656968), (-36.546015909, -1.408065912), (-36.74501405, -1.367761314), (-36.92986633, -1.323831929), (-37.100308606, -1.278213772), (-37.255996039, -1.230308582), (-37.396994074, -1.179518335), (-37.523325041, -1.126403766), (-37.634981713, -1.070496906), (-37.733587124, -1.012166957), (-37.819089301, -0.946207757), (-37.892334947, -0.870525317), (-37.954025458, -0.784041833), (-38.004293928, -0.687432955), (-38.043166993, -0.580459305), (-38.07089232, -0.463535136), (-38.087398684, -0.336257042), (-38.089486381, -0.248067484), (-38.090566617, -0.202435623)],
                knots=[0, 0, 0, 0, 1.595870397, 3.140592737, 4.634612613, 6.078715518, 7.46998073, 8.812936474, 10.108520143, 11.357136621, 12.540896352, 13.645651431, 14.667177183, 15.61474762, 16.482960095, 17.277467721, 18.001045958, 18.65737072, 19.270672542, 19.876756492, 20.485670631, 21.115189159, 21.768481852, 22.463746561, 23.205097451, 24, 24, 24, 24], degree=3))
            Line((-38.090566617, -0.202435623), (-38.090566617, 1.691624874))
        make_face()
        Polygon((-25.471976873, 1.691624874), (-19.854669181, 1.691624874), (-19.854669181, 1.121753079), (-21.68639995, 1.121753079), (-21.68639995, -1.483375126), (-23.640246104, -1.483375126), (-23.640246104, 1.121753079), (-25.471976873, 1.121753079), align=None)
        Polygon((-13.19938072, 1.691624874), (-11.300868099, 1.691624874), (-8.925342258, -0.522988507), (-6.539004117, 1.691624874), (-4.653211849, 1.691624874), (-2.921335848, -1.483375126), (-4.819848468, -1.483375126), (-5.913162771, 0.521988456), (-8.074350671, -1.483375126), (-9.786510127, -1.483375126), (-11.937521745, 0.521988456), (-13.03020003, -1.483375126), (-14.929348668, -1.483375126), align=None)
    extrude(amount=-CUT_EXTRUDE4_DEPTH, mode=Mode.SUBTRACT)


solid = part.part
